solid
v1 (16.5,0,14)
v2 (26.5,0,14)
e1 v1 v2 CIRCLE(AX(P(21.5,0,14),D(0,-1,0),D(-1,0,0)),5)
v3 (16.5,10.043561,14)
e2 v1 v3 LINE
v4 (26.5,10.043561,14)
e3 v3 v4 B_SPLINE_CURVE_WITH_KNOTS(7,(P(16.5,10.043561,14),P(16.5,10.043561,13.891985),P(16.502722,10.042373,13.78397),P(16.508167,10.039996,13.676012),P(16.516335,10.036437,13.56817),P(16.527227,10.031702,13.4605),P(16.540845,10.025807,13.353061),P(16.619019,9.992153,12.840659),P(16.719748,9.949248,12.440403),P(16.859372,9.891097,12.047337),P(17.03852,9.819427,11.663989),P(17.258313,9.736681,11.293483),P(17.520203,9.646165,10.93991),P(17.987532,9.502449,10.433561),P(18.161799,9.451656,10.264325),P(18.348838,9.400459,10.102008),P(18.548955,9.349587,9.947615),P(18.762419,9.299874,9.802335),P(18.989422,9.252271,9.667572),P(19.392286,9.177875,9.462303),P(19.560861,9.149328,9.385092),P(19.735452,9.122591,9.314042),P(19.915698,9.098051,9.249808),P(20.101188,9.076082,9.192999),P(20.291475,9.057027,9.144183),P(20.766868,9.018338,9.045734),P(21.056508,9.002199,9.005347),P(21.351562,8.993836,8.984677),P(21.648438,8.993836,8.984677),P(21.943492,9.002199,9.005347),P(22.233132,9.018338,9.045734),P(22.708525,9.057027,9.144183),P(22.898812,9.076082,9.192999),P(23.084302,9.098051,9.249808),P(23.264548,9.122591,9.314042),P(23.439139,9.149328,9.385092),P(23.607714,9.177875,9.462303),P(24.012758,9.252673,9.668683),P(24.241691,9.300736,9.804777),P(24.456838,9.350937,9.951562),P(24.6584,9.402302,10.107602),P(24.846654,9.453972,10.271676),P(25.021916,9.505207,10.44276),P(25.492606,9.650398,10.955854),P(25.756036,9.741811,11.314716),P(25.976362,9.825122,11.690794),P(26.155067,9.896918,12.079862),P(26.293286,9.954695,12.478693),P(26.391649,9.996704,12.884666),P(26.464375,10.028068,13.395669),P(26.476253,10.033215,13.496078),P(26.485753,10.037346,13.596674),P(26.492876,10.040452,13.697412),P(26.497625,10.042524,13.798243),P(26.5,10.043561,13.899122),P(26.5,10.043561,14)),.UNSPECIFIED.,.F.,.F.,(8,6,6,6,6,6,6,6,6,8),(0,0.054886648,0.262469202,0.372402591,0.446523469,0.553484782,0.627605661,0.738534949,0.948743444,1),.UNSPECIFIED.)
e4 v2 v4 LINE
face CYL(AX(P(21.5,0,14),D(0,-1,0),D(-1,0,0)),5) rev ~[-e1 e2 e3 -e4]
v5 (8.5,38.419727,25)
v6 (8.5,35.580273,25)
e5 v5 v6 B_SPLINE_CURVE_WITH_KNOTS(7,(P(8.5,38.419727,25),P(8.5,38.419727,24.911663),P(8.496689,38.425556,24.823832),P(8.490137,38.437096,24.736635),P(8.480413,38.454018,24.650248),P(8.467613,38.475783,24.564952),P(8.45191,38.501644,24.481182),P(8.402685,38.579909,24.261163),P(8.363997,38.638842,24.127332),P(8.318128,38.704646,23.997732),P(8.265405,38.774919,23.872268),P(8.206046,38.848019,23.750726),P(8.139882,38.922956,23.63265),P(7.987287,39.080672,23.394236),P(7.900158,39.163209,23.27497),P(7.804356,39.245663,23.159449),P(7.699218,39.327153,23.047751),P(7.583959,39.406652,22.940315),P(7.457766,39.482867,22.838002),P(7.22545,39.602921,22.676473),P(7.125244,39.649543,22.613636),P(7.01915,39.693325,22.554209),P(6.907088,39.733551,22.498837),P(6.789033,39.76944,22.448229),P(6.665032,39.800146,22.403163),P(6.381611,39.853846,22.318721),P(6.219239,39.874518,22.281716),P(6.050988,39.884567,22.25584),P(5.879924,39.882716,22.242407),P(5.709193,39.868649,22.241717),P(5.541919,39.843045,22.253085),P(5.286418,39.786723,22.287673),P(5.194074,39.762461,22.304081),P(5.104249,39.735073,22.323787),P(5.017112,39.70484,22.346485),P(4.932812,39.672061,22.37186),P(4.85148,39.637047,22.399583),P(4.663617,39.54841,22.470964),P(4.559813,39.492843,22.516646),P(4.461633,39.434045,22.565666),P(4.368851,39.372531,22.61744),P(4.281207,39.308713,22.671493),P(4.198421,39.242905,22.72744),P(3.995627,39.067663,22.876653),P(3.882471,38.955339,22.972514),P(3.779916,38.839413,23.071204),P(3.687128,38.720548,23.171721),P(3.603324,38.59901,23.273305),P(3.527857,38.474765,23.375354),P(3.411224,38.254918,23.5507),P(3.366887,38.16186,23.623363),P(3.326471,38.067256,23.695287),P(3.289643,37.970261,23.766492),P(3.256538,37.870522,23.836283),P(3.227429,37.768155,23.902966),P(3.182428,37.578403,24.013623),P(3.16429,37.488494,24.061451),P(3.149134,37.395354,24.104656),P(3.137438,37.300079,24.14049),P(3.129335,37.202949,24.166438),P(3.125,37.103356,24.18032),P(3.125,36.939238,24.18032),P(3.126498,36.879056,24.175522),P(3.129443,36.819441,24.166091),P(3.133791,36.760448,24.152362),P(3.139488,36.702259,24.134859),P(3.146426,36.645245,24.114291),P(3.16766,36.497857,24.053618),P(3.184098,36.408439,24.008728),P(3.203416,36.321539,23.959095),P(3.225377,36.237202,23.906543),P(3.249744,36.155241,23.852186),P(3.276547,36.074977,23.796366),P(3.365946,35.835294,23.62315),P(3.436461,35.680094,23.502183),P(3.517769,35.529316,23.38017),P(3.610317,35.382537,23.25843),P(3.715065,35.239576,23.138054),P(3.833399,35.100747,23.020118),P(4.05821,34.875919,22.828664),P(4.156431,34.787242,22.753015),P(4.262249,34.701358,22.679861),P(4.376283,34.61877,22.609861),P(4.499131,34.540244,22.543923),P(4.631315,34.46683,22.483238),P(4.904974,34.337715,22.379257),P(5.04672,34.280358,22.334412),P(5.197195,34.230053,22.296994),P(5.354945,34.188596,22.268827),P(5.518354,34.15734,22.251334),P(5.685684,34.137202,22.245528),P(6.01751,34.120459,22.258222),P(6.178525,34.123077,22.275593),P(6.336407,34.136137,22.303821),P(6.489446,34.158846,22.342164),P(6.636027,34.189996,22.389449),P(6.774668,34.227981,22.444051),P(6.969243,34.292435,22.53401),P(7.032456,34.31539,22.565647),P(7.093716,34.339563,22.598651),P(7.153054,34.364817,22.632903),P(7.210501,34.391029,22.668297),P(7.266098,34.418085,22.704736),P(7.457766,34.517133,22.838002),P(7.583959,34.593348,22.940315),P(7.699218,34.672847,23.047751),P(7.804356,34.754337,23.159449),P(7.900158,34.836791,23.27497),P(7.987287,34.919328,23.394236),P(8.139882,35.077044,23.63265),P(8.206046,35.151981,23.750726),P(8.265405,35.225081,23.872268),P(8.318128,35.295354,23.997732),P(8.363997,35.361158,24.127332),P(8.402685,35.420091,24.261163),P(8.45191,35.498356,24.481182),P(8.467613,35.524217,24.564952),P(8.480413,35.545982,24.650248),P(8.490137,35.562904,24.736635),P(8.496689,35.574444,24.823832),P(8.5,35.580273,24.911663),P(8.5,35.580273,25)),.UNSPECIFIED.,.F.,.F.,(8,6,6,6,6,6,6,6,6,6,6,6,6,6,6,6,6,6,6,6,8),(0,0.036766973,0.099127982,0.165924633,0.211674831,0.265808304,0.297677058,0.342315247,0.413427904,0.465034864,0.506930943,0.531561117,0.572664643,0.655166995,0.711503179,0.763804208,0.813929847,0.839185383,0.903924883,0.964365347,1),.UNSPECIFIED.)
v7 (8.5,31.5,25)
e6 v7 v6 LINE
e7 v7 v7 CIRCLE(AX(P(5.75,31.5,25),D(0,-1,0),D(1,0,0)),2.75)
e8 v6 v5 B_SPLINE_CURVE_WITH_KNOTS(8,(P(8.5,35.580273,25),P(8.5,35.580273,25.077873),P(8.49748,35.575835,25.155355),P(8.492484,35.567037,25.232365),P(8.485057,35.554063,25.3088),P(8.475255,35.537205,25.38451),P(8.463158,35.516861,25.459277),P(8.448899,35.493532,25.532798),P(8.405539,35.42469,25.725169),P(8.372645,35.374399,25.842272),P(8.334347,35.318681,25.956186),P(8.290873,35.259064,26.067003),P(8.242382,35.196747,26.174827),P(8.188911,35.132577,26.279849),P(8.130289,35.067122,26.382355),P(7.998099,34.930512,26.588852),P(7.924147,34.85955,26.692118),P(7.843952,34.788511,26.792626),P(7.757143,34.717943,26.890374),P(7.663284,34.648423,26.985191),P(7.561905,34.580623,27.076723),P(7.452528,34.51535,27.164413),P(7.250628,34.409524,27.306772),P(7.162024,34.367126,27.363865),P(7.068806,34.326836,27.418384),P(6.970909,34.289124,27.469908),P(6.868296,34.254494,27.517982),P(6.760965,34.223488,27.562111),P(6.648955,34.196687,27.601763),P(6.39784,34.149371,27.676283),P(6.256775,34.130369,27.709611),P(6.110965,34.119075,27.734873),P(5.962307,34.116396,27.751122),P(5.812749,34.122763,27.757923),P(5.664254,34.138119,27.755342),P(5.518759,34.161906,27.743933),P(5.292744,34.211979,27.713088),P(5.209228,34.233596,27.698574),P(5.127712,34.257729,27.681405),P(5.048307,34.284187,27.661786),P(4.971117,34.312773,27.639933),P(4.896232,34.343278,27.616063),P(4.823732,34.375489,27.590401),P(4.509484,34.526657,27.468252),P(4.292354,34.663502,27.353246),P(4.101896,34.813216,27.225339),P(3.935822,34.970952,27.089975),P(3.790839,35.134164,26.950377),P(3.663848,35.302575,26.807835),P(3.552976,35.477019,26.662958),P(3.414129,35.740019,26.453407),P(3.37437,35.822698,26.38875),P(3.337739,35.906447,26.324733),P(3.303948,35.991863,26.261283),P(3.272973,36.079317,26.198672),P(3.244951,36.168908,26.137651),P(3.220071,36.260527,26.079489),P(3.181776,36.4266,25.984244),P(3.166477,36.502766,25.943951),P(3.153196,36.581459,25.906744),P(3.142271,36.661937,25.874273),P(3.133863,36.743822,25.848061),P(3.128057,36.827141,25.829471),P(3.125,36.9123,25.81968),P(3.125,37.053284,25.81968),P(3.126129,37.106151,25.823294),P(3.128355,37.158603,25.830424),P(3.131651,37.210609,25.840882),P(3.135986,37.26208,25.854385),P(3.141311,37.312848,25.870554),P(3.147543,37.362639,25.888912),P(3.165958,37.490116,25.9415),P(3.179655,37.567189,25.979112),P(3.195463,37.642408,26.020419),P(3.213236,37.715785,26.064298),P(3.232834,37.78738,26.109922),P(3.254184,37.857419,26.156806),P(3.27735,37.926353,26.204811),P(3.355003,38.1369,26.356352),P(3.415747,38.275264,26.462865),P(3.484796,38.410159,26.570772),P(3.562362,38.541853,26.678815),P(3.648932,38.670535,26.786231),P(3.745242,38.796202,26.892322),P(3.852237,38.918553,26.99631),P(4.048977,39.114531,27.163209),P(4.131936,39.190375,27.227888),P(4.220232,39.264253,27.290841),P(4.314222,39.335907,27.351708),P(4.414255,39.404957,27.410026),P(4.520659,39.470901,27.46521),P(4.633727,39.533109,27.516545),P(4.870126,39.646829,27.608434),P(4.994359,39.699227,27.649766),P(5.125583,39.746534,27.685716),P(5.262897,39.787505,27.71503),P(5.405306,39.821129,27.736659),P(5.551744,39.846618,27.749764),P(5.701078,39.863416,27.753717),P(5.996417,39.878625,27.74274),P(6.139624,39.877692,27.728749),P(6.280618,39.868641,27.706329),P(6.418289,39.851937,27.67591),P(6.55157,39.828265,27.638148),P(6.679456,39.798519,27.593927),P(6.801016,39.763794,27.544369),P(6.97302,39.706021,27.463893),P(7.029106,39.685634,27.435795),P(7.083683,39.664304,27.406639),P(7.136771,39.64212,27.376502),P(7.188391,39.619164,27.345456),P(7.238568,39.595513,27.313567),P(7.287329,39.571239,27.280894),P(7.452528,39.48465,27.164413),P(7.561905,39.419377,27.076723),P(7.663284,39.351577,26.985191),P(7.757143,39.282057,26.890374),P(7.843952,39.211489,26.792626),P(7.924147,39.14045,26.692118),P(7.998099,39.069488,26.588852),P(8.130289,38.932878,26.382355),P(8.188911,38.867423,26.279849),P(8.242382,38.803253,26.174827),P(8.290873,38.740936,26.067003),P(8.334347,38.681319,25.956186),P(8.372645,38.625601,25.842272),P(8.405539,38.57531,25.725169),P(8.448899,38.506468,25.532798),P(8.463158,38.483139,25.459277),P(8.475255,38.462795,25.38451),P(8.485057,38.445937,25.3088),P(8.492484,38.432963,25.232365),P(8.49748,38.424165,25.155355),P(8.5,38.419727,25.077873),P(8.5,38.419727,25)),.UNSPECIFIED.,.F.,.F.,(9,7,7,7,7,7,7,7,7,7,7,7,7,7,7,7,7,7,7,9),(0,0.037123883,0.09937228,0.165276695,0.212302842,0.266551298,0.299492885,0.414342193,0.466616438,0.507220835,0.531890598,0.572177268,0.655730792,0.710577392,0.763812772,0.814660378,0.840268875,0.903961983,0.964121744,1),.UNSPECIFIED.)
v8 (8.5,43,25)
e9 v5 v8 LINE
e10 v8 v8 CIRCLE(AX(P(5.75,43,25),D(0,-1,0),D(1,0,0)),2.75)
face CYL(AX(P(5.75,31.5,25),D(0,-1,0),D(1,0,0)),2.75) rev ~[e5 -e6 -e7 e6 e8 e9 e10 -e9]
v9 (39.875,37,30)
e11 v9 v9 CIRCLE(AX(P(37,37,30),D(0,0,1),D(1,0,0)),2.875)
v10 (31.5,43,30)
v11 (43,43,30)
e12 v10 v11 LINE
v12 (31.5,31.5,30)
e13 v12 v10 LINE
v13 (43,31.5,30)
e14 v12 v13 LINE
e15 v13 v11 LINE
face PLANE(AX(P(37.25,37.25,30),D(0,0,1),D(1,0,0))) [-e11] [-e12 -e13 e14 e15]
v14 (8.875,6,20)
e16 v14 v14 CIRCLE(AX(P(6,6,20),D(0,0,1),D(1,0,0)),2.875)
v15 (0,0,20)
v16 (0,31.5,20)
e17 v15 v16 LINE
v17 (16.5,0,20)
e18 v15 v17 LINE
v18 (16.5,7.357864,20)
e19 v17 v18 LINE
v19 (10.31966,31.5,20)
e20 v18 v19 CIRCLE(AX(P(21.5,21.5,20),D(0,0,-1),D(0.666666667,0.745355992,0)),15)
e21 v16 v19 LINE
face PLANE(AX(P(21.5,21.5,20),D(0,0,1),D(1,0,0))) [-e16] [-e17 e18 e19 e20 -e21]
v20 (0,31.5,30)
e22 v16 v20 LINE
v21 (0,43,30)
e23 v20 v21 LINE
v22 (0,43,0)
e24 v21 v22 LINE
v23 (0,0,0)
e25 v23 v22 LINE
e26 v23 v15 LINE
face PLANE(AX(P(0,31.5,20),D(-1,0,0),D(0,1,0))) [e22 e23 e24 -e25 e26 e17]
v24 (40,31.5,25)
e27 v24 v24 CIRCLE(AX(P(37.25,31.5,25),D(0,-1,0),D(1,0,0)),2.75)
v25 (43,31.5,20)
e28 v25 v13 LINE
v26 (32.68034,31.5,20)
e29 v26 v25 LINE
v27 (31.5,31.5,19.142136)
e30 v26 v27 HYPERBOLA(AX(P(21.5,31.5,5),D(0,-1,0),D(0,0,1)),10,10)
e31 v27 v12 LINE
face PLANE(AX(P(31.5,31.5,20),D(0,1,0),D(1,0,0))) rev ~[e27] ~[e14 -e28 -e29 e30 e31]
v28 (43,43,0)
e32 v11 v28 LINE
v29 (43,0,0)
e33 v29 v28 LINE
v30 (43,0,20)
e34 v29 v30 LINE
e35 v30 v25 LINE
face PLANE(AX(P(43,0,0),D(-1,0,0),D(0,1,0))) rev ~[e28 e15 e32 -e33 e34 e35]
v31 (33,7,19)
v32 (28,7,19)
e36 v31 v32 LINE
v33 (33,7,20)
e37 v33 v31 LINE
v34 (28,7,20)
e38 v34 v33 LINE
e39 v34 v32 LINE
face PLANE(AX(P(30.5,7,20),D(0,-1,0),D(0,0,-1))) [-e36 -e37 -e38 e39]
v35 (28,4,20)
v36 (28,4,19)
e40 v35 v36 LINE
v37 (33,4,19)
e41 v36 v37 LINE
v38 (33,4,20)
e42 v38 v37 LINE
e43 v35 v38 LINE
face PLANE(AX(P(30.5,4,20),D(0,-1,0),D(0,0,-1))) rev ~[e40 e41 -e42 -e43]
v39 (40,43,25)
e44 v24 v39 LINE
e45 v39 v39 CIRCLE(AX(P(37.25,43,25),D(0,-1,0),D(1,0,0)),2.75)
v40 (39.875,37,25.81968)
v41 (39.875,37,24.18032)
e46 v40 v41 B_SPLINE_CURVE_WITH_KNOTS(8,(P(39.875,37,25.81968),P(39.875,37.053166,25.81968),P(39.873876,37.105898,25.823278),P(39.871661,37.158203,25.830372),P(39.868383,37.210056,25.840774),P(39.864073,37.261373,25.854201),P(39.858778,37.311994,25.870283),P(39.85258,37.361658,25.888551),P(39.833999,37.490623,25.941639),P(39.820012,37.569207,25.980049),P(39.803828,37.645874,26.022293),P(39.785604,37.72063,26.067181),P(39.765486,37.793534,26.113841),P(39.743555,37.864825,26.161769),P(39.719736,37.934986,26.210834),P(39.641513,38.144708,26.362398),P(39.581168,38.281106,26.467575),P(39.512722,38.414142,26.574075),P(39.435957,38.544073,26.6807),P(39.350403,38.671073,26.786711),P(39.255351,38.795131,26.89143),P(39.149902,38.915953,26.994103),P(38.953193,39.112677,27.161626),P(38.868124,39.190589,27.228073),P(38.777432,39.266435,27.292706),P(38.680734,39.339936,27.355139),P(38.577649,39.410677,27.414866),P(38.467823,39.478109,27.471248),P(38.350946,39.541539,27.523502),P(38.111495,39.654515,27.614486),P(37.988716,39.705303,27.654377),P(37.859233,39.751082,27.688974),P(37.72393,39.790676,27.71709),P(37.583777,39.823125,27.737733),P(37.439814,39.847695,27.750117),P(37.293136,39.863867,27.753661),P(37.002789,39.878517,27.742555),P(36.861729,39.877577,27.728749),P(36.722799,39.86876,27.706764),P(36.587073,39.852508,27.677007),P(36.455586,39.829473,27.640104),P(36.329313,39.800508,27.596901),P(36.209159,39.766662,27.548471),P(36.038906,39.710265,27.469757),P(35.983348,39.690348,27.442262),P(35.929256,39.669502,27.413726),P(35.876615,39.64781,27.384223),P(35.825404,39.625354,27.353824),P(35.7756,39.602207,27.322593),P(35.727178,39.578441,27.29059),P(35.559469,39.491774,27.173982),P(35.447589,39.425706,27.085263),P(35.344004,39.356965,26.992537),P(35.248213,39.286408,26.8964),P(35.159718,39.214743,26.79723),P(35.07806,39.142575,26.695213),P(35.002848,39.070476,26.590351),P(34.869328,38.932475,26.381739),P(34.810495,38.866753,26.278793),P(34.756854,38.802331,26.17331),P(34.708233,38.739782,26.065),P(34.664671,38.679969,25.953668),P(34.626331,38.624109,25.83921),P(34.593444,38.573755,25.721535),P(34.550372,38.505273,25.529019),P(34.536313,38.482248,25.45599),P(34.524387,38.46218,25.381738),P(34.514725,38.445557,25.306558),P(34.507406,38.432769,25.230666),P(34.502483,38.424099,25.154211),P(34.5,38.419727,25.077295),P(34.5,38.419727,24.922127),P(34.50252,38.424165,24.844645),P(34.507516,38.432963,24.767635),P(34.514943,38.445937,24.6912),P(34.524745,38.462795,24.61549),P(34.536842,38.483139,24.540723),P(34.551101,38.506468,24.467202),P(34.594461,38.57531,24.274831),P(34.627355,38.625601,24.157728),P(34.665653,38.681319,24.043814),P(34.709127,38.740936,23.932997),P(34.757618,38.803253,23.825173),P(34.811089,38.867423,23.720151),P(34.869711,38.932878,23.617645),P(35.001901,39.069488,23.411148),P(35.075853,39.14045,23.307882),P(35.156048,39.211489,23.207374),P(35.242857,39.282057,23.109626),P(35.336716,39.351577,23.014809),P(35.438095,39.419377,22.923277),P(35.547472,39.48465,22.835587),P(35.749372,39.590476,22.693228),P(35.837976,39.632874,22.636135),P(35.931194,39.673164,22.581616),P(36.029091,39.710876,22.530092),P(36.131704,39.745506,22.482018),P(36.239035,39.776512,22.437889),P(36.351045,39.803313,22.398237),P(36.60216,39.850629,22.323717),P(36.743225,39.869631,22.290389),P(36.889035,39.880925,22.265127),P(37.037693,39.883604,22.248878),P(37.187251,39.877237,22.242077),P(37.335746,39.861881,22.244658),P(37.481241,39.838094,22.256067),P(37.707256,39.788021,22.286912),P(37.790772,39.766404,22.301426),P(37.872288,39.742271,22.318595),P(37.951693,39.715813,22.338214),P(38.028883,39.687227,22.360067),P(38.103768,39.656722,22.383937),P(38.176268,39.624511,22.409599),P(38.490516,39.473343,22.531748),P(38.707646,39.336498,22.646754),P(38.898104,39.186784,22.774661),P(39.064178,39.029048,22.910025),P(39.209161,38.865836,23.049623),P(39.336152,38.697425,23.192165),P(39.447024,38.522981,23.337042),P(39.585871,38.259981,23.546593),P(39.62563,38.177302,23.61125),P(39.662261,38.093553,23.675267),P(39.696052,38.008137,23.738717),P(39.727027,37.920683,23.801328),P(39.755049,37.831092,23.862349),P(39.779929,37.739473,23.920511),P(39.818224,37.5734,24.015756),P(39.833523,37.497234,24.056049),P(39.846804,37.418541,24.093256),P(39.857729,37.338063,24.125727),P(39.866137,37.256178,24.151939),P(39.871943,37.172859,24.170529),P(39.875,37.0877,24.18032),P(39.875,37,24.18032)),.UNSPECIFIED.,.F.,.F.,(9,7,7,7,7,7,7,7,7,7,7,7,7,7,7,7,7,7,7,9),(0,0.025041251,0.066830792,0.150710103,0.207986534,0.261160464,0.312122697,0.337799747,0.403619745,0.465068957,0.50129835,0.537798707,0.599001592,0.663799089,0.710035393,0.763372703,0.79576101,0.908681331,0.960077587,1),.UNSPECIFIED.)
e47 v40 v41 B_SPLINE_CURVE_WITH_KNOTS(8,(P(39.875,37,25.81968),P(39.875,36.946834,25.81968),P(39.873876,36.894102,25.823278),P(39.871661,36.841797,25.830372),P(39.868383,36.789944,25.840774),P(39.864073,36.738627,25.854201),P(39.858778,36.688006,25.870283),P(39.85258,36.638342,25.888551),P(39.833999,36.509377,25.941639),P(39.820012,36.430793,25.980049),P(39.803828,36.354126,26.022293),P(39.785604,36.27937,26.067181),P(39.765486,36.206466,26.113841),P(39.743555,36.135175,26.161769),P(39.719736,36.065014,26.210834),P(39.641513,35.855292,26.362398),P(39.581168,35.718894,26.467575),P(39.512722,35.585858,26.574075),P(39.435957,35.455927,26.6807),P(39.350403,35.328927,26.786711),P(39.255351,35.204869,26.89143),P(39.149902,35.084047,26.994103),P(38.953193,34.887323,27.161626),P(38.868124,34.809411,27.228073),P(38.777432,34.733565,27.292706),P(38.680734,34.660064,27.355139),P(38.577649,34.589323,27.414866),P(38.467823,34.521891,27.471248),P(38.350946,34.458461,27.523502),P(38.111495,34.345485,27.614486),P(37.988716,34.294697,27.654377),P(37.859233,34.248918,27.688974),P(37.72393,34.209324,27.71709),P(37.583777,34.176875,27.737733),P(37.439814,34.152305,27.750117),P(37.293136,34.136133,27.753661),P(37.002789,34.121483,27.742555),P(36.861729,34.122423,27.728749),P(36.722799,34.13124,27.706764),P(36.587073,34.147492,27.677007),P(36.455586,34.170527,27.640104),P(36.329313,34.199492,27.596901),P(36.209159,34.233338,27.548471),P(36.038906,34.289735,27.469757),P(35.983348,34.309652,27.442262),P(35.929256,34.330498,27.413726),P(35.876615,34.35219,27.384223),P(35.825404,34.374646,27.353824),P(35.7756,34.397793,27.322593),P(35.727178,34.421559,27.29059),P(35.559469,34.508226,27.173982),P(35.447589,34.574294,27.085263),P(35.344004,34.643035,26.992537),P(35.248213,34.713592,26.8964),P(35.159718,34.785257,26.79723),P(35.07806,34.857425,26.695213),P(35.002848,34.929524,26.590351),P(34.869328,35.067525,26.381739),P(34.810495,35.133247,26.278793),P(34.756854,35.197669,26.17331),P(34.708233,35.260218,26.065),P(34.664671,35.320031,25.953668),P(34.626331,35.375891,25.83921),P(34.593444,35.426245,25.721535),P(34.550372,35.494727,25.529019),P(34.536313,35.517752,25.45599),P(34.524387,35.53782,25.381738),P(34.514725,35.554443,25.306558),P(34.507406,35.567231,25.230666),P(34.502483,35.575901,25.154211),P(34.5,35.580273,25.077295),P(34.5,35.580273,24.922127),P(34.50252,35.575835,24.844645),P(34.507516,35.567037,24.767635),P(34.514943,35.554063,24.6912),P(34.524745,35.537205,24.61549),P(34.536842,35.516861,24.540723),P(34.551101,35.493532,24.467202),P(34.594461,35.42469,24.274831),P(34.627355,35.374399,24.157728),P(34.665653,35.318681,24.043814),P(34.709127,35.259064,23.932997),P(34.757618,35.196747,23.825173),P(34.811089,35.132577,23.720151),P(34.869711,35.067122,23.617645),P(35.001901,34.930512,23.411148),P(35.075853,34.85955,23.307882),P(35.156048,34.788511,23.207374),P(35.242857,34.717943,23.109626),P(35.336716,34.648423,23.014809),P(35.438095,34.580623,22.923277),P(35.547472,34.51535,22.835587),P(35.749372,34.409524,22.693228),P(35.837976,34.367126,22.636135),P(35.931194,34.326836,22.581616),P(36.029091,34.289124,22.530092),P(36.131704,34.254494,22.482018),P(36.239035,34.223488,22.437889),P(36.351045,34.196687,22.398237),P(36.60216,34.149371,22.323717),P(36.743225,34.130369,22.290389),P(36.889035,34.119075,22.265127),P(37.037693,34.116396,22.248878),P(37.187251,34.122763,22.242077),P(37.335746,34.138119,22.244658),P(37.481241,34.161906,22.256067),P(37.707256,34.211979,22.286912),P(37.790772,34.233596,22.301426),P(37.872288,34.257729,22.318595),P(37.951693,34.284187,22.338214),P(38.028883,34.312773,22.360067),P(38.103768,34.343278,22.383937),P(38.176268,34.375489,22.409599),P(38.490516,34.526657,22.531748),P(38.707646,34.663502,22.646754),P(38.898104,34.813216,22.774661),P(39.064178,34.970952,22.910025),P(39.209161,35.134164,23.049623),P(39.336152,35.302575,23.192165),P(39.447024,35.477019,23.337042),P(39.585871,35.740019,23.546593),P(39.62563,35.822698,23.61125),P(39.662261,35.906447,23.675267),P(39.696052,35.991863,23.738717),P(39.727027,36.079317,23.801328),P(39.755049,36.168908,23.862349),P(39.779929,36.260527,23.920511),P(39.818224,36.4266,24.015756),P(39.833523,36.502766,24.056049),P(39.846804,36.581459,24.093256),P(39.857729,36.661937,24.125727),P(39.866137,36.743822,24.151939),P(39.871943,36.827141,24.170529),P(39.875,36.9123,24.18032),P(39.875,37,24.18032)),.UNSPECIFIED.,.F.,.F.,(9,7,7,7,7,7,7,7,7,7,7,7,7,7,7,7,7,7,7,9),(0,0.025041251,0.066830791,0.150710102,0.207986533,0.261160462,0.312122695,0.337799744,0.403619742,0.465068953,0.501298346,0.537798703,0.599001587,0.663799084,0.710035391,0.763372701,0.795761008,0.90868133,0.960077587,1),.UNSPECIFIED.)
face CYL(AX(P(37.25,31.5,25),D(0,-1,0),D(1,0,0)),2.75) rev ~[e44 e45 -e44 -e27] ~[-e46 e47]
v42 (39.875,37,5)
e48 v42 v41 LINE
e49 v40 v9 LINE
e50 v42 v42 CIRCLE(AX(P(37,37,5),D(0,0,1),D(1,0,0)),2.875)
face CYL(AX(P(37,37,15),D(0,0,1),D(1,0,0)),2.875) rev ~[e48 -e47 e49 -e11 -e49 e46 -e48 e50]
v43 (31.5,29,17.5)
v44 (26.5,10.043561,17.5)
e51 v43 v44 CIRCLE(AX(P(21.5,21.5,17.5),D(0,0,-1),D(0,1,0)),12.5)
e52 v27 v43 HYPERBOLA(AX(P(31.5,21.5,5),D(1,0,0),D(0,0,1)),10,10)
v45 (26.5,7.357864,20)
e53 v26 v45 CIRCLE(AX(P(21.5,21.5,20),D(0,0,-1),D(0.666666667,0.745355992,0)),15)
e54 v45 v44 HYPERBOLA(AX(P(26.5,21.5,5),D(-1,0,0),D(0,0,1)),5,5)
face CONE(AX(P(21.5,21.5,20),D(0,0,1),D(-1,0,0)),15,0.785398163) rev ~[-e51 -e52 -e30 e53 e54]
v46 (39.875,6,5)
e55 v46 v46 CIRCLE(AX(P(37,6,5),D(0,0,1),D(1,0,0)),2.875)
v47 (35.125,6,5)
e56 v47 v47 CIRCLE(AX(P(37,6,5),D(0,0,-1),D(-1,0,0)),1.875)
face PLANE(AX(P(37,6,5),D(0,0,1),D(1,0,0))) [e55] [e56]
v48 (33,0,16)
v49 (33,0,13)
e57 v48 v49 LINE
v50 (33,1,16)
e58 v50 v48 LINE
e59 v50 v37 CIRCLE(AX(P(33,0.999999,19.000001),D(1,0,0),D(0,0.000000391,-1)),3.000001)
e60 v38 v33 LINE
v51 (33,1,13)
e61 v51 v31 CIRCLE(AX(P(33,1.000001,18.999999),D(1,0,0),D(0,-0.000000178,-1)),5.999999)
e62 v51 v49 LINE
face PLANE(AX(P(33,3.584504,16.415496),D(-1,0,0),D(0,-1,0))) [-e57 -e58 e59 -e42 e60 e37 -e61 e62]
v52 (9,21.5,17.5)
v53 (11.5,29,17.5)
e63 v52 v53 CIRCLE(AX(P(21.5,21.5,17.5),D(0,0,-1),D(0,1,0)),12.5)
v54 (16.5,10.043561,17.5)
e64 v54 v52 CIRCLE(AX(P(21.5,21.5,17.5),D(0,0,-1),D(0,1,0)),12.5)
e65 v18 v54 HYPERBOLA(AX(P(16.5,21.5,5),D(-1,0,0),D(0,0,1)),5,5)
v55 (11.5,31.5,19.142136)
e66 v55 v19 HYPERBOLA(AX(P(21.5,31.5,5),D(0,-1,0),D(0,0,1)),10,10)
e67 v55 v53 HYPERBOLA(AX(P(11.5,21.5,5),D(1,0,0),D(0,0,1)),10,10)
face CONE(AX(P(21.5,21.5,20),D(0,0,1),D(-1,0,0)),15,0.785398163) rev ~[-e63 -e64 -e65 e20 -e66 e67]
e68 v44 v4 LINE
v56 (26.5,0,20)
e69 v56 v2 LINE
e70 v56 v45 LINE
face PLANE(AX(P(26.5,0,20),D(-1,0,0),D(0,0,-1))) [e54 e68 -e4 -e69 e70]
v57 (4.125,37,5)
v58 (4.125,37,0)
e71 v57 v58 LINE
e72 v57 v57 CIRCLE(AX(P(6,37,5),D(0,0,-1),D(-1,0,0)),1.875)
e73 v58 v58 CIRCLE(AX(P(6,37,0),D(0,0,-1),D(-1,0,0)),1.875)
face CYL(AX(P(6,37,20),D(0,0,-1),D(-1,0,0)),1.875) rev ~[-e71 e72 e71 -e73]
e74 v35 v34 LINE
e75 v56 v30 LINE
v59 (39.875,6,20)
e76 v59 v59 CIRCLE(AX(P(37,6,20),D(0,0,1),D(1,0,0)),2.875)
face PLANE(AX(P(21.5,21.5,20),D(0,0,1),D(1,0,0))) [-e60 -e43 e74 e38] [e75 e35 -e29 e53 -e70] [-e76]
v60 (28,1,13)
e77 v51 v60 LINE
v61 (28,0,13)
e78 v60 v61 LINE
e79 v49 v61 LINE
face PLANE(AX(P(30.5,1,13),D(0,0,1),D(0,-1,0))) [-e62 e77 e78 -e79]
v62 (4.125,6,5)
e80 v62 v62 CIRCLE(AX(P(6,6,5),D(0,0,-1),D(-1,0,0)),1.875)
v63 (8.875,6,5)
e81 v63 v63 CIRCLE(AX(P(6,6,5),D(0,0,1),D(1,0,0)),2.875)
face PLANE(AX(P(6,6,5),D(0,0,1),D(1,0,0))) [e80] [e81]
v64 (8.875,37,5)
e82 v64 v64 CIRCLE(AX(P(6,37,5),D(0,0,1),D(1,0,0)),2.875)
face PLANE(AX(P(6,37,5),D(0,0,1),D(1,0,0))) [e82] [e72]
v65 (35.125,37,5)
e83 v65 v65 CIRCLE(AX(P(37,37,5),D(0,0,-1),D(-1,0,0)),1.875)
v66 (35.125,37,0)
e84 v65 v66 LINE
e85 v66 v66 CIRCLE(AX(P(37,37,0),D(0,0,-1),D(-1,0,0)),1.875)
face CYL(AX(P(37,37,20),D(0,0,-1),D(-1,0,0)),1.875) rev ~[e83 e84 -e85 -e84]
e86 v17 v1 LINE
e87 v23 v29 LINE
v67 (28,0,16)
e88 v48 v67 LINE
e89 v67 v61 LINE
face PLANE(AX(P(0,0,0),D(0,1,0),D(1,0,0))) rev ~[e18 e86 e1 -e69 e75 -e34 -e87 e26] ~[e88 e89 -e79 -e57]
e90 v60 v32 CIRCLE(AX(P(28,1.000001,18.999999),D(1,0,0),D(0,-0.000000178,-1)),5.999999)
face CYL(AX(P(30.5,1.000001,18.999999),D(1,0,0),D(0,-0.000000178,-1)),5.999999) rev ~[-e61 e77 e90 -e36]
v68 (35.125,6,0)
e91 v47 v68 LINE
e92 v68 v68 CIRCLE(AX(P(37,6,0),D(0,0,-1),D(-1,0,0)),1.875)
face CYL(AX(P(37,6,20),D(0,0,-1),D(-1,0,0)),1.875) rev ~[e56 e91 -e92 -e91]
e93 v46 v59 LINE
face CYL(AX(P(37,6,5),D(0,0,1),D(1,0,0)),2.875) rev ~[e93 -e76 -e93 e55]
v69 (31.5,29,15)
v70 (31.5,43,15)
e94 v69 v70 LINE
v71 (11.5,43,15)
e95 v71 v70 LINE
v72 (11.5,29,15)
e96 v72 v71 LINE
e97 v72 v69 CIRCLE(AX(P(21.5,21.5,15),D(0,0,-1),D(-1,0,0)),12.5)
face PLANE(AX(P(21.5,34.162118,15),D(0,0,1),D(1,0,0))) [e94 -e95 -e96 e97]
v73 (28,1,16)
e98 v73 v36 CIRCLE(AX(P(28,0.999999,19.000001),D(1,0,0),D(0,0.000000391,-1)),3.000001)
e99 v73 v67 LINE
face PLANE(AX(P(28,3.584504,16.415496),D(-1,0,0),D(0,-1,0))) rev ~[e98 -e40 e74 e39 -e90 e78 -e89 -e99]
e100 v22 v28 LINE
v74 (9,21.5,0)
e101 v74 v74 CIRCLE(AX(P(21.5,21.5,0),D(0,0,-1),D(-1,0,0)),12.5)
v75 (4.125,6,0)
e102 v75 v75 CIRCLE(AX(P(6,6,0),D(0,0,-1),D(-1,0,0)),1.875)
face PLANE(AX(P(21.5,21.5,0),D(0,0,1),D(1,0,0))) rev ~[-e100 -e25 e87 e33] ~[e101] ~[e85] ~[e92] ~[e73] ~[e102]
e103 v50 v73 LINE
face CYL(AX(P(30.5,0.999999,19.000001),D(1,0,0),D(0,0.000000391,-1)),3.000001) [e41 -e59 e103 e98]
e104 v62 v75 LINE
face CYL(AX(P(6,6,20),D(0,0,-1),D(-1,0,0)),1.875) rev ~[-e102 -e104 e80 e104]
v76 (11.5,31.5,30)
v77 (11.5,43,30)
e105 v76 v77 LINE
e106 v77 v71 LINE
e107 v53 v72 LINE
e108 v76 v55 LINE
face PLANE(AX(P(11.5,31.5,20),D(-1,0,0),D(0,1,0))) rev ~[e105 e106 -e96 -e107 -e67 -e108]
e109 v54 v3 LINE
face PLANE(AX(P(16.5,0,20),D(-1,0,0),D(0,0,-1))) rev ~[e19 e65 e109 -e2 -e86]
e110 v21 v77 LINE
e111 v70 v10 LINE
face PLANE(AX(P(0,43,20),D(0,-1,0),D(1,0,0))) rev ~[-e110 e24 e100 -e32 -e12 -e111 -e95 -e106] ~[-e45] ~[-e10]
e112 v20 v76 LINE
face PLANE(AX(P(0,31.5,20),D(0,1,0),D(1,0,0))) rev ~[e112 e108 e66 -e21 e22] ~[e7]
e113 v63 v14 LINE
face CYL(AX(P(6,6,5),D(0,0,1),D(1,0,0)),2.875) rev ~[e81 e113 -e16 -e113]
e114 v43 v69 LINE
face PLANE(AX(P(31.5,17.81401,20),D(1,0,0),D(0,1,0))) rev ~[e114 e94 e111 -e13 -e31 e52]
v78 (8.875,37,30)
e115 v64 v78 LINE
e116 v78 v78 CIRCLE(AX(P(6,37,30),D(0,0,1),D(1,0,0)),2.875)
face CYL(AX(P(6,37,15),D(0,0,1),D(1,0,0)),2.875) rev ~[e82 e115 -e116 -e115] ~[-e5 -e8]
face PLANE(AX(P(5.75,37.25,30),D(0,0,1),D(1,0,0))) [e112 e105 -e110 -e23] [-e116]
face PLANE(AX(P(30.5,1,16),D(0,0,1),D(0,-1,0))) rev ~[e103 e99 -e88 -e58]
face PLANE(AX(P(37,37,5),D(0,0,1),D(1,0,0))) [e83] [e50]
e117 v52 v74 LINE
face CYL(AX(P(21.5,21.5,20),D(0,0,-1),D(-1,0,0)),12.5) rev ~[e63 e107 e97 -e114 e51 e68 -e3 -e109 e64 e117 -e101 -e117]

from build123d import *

# Parameters (mm, degrees)
SKETCH_W            = 43
SKETCH_H            = 43
PAD_DEPTH           = 20
HOLE_D              = 3.75
HOLE_CBORE_D        = 5.75
HOLE_CBORE_DEPTH    = 15
HOLE001_D           = 25
HOLE001_CSINK_D     = 30
HOLE001_CSINK_ANGLE = 90
SKETCH003_W         = 20
SKETCH003_H         = 32.696217
POCKET_DEPTH        = 5
POCKET001_DEPTH     = 25
SKETCH005_W         = 11.5
SKETCH005_H         = 11.5
PAD001_DEPTH        = 10
PAD001_DEPTH_BACK   = 2
HOLE002_D           = 3.75
HOLE002_CBORE_D     = 5.75
HOLE002_CBORE_DEPTH = 15
SKETCH007_R         = 2.75
HOLE003_DEPTH       = 11.501
POCKET002_DEPTH     = 2.5


with BuildPart() as part:
    # Sketch → Pad (new body)
    with BuildSketch(Plane.XY):
        with Locations((21.5, 21.5)):
            Rectangle(SKETCH_W, SKETCH_H)
    extrude(amount=PAD_DEPTH)

    # Hole (through all)
    with Locations(Plane.XY.offset(20)):
        with Locations((6, 37), (37, 37), (37, 6), (6, 6)):
            CounterBoreHole(HOLE_D / 2, HOLE_CBORE_D / 2, HOLE_CBORE_DEPTH)

    # Hole001 (through all)
    with Locations(Plane.XY.offset(20)):
        with Locations((21.5, 21.5)):
            CounterSinkHole(HOLE001_D / 2, HOLE001_CSINK_D / 2, counter_sink_angle=HOLE001_CSINK_ANGLE)

    # Sketch003 (on Face5 of Hole001) → Pocket (cut)
    with BuildSketch(Plane.XY.offset(20)):
        with Locations((21.5, 34.162118)):
            Rectangle(SKETCH003_W, SKETCH003_H)
    extrude(amount=-POCKET_DEPTH, mode=Mode.SUBTRACT)

    # Sketch004 (on Face1 of Pocket) → Pocket001 (cut)
    with BuildSketch(Plane.XZ):
        with BuildLine():
            ThreePointArc((16.5, 14), (21.5, 9), (26.5, 14))
            Line((26.5, 20), (26.5, 14))
            Line((16.5, 20), (26.5, 20))
            Line((16.5, 20), (16.5, 14))
        make_face()
    extrude(amount=-POCKET001_DEPTH, mode=Mode.SUBTRACT)

    # Sketch005 (on Face8 of Pocket001) → Pad001 (join, two sides)
    with BuildSketch(Plane.XY.offset(20)) as pad001_sk:
        with Locations((5.75, 37.25)):
            Rectangle(SKETCH005_W, SKETCH005_H)
        with Locations((37.25, 37.25)):
            Rectangle(SKETCH005_W, SKETCH005_H)
    extrude(amount=PAD001_DEPTH)
    extrude(pad001_sk.sketch, amount=-PAD001_DEPTH_BACK)

    # Hole002 (through all)
    with Locations(Plane.XY.offset(30)):
        with Locations((6, 37), (37, 37)):
            CounterBoreHole(HOLE002_D / 2, HOLE002_CBORE_D / 2, HOLE002_CBORE_DEPTH)

    # Sketch007 (on Face22 of Hole002) → Hole003 (cut, through all)
    with BuildSketch(Plane.XZ.offset(-31.5)):
        with Locations((5.75, 25)):
            Circle(SKETCH007_R)
        with Locations((37.25, 25)):
            Circle(SKETCH007_R)
    extrude(amount=-HOLE003_DEPTH, mode=Mode.SUBTRACT)

    # Sketch008 → Pocket002 (cut, symmetric)
    with BuildSketch(Plane.YZ.offset(30.5)):
        with BuildLine():
            Line((7, 20), (7, 19))
            ThreePointArc((1, 13), (5.242641, 14.757359), (7, 19))
            Line((1, 13), (0, 13))
            Line((0, 16), (0, 13))
            Line((1, 16), (0, 16))
            ThreePointArc((1, 16), (3.12132, 16.87868), (4, 19))
            Line((4, 20), (4, 19))
            Line((4, 20), (7, 20))
        make_face()
    extrude(amount=POCKET002_DEPTH, both=True, mode=Mode.SUBTRACT)


solid = part.part
